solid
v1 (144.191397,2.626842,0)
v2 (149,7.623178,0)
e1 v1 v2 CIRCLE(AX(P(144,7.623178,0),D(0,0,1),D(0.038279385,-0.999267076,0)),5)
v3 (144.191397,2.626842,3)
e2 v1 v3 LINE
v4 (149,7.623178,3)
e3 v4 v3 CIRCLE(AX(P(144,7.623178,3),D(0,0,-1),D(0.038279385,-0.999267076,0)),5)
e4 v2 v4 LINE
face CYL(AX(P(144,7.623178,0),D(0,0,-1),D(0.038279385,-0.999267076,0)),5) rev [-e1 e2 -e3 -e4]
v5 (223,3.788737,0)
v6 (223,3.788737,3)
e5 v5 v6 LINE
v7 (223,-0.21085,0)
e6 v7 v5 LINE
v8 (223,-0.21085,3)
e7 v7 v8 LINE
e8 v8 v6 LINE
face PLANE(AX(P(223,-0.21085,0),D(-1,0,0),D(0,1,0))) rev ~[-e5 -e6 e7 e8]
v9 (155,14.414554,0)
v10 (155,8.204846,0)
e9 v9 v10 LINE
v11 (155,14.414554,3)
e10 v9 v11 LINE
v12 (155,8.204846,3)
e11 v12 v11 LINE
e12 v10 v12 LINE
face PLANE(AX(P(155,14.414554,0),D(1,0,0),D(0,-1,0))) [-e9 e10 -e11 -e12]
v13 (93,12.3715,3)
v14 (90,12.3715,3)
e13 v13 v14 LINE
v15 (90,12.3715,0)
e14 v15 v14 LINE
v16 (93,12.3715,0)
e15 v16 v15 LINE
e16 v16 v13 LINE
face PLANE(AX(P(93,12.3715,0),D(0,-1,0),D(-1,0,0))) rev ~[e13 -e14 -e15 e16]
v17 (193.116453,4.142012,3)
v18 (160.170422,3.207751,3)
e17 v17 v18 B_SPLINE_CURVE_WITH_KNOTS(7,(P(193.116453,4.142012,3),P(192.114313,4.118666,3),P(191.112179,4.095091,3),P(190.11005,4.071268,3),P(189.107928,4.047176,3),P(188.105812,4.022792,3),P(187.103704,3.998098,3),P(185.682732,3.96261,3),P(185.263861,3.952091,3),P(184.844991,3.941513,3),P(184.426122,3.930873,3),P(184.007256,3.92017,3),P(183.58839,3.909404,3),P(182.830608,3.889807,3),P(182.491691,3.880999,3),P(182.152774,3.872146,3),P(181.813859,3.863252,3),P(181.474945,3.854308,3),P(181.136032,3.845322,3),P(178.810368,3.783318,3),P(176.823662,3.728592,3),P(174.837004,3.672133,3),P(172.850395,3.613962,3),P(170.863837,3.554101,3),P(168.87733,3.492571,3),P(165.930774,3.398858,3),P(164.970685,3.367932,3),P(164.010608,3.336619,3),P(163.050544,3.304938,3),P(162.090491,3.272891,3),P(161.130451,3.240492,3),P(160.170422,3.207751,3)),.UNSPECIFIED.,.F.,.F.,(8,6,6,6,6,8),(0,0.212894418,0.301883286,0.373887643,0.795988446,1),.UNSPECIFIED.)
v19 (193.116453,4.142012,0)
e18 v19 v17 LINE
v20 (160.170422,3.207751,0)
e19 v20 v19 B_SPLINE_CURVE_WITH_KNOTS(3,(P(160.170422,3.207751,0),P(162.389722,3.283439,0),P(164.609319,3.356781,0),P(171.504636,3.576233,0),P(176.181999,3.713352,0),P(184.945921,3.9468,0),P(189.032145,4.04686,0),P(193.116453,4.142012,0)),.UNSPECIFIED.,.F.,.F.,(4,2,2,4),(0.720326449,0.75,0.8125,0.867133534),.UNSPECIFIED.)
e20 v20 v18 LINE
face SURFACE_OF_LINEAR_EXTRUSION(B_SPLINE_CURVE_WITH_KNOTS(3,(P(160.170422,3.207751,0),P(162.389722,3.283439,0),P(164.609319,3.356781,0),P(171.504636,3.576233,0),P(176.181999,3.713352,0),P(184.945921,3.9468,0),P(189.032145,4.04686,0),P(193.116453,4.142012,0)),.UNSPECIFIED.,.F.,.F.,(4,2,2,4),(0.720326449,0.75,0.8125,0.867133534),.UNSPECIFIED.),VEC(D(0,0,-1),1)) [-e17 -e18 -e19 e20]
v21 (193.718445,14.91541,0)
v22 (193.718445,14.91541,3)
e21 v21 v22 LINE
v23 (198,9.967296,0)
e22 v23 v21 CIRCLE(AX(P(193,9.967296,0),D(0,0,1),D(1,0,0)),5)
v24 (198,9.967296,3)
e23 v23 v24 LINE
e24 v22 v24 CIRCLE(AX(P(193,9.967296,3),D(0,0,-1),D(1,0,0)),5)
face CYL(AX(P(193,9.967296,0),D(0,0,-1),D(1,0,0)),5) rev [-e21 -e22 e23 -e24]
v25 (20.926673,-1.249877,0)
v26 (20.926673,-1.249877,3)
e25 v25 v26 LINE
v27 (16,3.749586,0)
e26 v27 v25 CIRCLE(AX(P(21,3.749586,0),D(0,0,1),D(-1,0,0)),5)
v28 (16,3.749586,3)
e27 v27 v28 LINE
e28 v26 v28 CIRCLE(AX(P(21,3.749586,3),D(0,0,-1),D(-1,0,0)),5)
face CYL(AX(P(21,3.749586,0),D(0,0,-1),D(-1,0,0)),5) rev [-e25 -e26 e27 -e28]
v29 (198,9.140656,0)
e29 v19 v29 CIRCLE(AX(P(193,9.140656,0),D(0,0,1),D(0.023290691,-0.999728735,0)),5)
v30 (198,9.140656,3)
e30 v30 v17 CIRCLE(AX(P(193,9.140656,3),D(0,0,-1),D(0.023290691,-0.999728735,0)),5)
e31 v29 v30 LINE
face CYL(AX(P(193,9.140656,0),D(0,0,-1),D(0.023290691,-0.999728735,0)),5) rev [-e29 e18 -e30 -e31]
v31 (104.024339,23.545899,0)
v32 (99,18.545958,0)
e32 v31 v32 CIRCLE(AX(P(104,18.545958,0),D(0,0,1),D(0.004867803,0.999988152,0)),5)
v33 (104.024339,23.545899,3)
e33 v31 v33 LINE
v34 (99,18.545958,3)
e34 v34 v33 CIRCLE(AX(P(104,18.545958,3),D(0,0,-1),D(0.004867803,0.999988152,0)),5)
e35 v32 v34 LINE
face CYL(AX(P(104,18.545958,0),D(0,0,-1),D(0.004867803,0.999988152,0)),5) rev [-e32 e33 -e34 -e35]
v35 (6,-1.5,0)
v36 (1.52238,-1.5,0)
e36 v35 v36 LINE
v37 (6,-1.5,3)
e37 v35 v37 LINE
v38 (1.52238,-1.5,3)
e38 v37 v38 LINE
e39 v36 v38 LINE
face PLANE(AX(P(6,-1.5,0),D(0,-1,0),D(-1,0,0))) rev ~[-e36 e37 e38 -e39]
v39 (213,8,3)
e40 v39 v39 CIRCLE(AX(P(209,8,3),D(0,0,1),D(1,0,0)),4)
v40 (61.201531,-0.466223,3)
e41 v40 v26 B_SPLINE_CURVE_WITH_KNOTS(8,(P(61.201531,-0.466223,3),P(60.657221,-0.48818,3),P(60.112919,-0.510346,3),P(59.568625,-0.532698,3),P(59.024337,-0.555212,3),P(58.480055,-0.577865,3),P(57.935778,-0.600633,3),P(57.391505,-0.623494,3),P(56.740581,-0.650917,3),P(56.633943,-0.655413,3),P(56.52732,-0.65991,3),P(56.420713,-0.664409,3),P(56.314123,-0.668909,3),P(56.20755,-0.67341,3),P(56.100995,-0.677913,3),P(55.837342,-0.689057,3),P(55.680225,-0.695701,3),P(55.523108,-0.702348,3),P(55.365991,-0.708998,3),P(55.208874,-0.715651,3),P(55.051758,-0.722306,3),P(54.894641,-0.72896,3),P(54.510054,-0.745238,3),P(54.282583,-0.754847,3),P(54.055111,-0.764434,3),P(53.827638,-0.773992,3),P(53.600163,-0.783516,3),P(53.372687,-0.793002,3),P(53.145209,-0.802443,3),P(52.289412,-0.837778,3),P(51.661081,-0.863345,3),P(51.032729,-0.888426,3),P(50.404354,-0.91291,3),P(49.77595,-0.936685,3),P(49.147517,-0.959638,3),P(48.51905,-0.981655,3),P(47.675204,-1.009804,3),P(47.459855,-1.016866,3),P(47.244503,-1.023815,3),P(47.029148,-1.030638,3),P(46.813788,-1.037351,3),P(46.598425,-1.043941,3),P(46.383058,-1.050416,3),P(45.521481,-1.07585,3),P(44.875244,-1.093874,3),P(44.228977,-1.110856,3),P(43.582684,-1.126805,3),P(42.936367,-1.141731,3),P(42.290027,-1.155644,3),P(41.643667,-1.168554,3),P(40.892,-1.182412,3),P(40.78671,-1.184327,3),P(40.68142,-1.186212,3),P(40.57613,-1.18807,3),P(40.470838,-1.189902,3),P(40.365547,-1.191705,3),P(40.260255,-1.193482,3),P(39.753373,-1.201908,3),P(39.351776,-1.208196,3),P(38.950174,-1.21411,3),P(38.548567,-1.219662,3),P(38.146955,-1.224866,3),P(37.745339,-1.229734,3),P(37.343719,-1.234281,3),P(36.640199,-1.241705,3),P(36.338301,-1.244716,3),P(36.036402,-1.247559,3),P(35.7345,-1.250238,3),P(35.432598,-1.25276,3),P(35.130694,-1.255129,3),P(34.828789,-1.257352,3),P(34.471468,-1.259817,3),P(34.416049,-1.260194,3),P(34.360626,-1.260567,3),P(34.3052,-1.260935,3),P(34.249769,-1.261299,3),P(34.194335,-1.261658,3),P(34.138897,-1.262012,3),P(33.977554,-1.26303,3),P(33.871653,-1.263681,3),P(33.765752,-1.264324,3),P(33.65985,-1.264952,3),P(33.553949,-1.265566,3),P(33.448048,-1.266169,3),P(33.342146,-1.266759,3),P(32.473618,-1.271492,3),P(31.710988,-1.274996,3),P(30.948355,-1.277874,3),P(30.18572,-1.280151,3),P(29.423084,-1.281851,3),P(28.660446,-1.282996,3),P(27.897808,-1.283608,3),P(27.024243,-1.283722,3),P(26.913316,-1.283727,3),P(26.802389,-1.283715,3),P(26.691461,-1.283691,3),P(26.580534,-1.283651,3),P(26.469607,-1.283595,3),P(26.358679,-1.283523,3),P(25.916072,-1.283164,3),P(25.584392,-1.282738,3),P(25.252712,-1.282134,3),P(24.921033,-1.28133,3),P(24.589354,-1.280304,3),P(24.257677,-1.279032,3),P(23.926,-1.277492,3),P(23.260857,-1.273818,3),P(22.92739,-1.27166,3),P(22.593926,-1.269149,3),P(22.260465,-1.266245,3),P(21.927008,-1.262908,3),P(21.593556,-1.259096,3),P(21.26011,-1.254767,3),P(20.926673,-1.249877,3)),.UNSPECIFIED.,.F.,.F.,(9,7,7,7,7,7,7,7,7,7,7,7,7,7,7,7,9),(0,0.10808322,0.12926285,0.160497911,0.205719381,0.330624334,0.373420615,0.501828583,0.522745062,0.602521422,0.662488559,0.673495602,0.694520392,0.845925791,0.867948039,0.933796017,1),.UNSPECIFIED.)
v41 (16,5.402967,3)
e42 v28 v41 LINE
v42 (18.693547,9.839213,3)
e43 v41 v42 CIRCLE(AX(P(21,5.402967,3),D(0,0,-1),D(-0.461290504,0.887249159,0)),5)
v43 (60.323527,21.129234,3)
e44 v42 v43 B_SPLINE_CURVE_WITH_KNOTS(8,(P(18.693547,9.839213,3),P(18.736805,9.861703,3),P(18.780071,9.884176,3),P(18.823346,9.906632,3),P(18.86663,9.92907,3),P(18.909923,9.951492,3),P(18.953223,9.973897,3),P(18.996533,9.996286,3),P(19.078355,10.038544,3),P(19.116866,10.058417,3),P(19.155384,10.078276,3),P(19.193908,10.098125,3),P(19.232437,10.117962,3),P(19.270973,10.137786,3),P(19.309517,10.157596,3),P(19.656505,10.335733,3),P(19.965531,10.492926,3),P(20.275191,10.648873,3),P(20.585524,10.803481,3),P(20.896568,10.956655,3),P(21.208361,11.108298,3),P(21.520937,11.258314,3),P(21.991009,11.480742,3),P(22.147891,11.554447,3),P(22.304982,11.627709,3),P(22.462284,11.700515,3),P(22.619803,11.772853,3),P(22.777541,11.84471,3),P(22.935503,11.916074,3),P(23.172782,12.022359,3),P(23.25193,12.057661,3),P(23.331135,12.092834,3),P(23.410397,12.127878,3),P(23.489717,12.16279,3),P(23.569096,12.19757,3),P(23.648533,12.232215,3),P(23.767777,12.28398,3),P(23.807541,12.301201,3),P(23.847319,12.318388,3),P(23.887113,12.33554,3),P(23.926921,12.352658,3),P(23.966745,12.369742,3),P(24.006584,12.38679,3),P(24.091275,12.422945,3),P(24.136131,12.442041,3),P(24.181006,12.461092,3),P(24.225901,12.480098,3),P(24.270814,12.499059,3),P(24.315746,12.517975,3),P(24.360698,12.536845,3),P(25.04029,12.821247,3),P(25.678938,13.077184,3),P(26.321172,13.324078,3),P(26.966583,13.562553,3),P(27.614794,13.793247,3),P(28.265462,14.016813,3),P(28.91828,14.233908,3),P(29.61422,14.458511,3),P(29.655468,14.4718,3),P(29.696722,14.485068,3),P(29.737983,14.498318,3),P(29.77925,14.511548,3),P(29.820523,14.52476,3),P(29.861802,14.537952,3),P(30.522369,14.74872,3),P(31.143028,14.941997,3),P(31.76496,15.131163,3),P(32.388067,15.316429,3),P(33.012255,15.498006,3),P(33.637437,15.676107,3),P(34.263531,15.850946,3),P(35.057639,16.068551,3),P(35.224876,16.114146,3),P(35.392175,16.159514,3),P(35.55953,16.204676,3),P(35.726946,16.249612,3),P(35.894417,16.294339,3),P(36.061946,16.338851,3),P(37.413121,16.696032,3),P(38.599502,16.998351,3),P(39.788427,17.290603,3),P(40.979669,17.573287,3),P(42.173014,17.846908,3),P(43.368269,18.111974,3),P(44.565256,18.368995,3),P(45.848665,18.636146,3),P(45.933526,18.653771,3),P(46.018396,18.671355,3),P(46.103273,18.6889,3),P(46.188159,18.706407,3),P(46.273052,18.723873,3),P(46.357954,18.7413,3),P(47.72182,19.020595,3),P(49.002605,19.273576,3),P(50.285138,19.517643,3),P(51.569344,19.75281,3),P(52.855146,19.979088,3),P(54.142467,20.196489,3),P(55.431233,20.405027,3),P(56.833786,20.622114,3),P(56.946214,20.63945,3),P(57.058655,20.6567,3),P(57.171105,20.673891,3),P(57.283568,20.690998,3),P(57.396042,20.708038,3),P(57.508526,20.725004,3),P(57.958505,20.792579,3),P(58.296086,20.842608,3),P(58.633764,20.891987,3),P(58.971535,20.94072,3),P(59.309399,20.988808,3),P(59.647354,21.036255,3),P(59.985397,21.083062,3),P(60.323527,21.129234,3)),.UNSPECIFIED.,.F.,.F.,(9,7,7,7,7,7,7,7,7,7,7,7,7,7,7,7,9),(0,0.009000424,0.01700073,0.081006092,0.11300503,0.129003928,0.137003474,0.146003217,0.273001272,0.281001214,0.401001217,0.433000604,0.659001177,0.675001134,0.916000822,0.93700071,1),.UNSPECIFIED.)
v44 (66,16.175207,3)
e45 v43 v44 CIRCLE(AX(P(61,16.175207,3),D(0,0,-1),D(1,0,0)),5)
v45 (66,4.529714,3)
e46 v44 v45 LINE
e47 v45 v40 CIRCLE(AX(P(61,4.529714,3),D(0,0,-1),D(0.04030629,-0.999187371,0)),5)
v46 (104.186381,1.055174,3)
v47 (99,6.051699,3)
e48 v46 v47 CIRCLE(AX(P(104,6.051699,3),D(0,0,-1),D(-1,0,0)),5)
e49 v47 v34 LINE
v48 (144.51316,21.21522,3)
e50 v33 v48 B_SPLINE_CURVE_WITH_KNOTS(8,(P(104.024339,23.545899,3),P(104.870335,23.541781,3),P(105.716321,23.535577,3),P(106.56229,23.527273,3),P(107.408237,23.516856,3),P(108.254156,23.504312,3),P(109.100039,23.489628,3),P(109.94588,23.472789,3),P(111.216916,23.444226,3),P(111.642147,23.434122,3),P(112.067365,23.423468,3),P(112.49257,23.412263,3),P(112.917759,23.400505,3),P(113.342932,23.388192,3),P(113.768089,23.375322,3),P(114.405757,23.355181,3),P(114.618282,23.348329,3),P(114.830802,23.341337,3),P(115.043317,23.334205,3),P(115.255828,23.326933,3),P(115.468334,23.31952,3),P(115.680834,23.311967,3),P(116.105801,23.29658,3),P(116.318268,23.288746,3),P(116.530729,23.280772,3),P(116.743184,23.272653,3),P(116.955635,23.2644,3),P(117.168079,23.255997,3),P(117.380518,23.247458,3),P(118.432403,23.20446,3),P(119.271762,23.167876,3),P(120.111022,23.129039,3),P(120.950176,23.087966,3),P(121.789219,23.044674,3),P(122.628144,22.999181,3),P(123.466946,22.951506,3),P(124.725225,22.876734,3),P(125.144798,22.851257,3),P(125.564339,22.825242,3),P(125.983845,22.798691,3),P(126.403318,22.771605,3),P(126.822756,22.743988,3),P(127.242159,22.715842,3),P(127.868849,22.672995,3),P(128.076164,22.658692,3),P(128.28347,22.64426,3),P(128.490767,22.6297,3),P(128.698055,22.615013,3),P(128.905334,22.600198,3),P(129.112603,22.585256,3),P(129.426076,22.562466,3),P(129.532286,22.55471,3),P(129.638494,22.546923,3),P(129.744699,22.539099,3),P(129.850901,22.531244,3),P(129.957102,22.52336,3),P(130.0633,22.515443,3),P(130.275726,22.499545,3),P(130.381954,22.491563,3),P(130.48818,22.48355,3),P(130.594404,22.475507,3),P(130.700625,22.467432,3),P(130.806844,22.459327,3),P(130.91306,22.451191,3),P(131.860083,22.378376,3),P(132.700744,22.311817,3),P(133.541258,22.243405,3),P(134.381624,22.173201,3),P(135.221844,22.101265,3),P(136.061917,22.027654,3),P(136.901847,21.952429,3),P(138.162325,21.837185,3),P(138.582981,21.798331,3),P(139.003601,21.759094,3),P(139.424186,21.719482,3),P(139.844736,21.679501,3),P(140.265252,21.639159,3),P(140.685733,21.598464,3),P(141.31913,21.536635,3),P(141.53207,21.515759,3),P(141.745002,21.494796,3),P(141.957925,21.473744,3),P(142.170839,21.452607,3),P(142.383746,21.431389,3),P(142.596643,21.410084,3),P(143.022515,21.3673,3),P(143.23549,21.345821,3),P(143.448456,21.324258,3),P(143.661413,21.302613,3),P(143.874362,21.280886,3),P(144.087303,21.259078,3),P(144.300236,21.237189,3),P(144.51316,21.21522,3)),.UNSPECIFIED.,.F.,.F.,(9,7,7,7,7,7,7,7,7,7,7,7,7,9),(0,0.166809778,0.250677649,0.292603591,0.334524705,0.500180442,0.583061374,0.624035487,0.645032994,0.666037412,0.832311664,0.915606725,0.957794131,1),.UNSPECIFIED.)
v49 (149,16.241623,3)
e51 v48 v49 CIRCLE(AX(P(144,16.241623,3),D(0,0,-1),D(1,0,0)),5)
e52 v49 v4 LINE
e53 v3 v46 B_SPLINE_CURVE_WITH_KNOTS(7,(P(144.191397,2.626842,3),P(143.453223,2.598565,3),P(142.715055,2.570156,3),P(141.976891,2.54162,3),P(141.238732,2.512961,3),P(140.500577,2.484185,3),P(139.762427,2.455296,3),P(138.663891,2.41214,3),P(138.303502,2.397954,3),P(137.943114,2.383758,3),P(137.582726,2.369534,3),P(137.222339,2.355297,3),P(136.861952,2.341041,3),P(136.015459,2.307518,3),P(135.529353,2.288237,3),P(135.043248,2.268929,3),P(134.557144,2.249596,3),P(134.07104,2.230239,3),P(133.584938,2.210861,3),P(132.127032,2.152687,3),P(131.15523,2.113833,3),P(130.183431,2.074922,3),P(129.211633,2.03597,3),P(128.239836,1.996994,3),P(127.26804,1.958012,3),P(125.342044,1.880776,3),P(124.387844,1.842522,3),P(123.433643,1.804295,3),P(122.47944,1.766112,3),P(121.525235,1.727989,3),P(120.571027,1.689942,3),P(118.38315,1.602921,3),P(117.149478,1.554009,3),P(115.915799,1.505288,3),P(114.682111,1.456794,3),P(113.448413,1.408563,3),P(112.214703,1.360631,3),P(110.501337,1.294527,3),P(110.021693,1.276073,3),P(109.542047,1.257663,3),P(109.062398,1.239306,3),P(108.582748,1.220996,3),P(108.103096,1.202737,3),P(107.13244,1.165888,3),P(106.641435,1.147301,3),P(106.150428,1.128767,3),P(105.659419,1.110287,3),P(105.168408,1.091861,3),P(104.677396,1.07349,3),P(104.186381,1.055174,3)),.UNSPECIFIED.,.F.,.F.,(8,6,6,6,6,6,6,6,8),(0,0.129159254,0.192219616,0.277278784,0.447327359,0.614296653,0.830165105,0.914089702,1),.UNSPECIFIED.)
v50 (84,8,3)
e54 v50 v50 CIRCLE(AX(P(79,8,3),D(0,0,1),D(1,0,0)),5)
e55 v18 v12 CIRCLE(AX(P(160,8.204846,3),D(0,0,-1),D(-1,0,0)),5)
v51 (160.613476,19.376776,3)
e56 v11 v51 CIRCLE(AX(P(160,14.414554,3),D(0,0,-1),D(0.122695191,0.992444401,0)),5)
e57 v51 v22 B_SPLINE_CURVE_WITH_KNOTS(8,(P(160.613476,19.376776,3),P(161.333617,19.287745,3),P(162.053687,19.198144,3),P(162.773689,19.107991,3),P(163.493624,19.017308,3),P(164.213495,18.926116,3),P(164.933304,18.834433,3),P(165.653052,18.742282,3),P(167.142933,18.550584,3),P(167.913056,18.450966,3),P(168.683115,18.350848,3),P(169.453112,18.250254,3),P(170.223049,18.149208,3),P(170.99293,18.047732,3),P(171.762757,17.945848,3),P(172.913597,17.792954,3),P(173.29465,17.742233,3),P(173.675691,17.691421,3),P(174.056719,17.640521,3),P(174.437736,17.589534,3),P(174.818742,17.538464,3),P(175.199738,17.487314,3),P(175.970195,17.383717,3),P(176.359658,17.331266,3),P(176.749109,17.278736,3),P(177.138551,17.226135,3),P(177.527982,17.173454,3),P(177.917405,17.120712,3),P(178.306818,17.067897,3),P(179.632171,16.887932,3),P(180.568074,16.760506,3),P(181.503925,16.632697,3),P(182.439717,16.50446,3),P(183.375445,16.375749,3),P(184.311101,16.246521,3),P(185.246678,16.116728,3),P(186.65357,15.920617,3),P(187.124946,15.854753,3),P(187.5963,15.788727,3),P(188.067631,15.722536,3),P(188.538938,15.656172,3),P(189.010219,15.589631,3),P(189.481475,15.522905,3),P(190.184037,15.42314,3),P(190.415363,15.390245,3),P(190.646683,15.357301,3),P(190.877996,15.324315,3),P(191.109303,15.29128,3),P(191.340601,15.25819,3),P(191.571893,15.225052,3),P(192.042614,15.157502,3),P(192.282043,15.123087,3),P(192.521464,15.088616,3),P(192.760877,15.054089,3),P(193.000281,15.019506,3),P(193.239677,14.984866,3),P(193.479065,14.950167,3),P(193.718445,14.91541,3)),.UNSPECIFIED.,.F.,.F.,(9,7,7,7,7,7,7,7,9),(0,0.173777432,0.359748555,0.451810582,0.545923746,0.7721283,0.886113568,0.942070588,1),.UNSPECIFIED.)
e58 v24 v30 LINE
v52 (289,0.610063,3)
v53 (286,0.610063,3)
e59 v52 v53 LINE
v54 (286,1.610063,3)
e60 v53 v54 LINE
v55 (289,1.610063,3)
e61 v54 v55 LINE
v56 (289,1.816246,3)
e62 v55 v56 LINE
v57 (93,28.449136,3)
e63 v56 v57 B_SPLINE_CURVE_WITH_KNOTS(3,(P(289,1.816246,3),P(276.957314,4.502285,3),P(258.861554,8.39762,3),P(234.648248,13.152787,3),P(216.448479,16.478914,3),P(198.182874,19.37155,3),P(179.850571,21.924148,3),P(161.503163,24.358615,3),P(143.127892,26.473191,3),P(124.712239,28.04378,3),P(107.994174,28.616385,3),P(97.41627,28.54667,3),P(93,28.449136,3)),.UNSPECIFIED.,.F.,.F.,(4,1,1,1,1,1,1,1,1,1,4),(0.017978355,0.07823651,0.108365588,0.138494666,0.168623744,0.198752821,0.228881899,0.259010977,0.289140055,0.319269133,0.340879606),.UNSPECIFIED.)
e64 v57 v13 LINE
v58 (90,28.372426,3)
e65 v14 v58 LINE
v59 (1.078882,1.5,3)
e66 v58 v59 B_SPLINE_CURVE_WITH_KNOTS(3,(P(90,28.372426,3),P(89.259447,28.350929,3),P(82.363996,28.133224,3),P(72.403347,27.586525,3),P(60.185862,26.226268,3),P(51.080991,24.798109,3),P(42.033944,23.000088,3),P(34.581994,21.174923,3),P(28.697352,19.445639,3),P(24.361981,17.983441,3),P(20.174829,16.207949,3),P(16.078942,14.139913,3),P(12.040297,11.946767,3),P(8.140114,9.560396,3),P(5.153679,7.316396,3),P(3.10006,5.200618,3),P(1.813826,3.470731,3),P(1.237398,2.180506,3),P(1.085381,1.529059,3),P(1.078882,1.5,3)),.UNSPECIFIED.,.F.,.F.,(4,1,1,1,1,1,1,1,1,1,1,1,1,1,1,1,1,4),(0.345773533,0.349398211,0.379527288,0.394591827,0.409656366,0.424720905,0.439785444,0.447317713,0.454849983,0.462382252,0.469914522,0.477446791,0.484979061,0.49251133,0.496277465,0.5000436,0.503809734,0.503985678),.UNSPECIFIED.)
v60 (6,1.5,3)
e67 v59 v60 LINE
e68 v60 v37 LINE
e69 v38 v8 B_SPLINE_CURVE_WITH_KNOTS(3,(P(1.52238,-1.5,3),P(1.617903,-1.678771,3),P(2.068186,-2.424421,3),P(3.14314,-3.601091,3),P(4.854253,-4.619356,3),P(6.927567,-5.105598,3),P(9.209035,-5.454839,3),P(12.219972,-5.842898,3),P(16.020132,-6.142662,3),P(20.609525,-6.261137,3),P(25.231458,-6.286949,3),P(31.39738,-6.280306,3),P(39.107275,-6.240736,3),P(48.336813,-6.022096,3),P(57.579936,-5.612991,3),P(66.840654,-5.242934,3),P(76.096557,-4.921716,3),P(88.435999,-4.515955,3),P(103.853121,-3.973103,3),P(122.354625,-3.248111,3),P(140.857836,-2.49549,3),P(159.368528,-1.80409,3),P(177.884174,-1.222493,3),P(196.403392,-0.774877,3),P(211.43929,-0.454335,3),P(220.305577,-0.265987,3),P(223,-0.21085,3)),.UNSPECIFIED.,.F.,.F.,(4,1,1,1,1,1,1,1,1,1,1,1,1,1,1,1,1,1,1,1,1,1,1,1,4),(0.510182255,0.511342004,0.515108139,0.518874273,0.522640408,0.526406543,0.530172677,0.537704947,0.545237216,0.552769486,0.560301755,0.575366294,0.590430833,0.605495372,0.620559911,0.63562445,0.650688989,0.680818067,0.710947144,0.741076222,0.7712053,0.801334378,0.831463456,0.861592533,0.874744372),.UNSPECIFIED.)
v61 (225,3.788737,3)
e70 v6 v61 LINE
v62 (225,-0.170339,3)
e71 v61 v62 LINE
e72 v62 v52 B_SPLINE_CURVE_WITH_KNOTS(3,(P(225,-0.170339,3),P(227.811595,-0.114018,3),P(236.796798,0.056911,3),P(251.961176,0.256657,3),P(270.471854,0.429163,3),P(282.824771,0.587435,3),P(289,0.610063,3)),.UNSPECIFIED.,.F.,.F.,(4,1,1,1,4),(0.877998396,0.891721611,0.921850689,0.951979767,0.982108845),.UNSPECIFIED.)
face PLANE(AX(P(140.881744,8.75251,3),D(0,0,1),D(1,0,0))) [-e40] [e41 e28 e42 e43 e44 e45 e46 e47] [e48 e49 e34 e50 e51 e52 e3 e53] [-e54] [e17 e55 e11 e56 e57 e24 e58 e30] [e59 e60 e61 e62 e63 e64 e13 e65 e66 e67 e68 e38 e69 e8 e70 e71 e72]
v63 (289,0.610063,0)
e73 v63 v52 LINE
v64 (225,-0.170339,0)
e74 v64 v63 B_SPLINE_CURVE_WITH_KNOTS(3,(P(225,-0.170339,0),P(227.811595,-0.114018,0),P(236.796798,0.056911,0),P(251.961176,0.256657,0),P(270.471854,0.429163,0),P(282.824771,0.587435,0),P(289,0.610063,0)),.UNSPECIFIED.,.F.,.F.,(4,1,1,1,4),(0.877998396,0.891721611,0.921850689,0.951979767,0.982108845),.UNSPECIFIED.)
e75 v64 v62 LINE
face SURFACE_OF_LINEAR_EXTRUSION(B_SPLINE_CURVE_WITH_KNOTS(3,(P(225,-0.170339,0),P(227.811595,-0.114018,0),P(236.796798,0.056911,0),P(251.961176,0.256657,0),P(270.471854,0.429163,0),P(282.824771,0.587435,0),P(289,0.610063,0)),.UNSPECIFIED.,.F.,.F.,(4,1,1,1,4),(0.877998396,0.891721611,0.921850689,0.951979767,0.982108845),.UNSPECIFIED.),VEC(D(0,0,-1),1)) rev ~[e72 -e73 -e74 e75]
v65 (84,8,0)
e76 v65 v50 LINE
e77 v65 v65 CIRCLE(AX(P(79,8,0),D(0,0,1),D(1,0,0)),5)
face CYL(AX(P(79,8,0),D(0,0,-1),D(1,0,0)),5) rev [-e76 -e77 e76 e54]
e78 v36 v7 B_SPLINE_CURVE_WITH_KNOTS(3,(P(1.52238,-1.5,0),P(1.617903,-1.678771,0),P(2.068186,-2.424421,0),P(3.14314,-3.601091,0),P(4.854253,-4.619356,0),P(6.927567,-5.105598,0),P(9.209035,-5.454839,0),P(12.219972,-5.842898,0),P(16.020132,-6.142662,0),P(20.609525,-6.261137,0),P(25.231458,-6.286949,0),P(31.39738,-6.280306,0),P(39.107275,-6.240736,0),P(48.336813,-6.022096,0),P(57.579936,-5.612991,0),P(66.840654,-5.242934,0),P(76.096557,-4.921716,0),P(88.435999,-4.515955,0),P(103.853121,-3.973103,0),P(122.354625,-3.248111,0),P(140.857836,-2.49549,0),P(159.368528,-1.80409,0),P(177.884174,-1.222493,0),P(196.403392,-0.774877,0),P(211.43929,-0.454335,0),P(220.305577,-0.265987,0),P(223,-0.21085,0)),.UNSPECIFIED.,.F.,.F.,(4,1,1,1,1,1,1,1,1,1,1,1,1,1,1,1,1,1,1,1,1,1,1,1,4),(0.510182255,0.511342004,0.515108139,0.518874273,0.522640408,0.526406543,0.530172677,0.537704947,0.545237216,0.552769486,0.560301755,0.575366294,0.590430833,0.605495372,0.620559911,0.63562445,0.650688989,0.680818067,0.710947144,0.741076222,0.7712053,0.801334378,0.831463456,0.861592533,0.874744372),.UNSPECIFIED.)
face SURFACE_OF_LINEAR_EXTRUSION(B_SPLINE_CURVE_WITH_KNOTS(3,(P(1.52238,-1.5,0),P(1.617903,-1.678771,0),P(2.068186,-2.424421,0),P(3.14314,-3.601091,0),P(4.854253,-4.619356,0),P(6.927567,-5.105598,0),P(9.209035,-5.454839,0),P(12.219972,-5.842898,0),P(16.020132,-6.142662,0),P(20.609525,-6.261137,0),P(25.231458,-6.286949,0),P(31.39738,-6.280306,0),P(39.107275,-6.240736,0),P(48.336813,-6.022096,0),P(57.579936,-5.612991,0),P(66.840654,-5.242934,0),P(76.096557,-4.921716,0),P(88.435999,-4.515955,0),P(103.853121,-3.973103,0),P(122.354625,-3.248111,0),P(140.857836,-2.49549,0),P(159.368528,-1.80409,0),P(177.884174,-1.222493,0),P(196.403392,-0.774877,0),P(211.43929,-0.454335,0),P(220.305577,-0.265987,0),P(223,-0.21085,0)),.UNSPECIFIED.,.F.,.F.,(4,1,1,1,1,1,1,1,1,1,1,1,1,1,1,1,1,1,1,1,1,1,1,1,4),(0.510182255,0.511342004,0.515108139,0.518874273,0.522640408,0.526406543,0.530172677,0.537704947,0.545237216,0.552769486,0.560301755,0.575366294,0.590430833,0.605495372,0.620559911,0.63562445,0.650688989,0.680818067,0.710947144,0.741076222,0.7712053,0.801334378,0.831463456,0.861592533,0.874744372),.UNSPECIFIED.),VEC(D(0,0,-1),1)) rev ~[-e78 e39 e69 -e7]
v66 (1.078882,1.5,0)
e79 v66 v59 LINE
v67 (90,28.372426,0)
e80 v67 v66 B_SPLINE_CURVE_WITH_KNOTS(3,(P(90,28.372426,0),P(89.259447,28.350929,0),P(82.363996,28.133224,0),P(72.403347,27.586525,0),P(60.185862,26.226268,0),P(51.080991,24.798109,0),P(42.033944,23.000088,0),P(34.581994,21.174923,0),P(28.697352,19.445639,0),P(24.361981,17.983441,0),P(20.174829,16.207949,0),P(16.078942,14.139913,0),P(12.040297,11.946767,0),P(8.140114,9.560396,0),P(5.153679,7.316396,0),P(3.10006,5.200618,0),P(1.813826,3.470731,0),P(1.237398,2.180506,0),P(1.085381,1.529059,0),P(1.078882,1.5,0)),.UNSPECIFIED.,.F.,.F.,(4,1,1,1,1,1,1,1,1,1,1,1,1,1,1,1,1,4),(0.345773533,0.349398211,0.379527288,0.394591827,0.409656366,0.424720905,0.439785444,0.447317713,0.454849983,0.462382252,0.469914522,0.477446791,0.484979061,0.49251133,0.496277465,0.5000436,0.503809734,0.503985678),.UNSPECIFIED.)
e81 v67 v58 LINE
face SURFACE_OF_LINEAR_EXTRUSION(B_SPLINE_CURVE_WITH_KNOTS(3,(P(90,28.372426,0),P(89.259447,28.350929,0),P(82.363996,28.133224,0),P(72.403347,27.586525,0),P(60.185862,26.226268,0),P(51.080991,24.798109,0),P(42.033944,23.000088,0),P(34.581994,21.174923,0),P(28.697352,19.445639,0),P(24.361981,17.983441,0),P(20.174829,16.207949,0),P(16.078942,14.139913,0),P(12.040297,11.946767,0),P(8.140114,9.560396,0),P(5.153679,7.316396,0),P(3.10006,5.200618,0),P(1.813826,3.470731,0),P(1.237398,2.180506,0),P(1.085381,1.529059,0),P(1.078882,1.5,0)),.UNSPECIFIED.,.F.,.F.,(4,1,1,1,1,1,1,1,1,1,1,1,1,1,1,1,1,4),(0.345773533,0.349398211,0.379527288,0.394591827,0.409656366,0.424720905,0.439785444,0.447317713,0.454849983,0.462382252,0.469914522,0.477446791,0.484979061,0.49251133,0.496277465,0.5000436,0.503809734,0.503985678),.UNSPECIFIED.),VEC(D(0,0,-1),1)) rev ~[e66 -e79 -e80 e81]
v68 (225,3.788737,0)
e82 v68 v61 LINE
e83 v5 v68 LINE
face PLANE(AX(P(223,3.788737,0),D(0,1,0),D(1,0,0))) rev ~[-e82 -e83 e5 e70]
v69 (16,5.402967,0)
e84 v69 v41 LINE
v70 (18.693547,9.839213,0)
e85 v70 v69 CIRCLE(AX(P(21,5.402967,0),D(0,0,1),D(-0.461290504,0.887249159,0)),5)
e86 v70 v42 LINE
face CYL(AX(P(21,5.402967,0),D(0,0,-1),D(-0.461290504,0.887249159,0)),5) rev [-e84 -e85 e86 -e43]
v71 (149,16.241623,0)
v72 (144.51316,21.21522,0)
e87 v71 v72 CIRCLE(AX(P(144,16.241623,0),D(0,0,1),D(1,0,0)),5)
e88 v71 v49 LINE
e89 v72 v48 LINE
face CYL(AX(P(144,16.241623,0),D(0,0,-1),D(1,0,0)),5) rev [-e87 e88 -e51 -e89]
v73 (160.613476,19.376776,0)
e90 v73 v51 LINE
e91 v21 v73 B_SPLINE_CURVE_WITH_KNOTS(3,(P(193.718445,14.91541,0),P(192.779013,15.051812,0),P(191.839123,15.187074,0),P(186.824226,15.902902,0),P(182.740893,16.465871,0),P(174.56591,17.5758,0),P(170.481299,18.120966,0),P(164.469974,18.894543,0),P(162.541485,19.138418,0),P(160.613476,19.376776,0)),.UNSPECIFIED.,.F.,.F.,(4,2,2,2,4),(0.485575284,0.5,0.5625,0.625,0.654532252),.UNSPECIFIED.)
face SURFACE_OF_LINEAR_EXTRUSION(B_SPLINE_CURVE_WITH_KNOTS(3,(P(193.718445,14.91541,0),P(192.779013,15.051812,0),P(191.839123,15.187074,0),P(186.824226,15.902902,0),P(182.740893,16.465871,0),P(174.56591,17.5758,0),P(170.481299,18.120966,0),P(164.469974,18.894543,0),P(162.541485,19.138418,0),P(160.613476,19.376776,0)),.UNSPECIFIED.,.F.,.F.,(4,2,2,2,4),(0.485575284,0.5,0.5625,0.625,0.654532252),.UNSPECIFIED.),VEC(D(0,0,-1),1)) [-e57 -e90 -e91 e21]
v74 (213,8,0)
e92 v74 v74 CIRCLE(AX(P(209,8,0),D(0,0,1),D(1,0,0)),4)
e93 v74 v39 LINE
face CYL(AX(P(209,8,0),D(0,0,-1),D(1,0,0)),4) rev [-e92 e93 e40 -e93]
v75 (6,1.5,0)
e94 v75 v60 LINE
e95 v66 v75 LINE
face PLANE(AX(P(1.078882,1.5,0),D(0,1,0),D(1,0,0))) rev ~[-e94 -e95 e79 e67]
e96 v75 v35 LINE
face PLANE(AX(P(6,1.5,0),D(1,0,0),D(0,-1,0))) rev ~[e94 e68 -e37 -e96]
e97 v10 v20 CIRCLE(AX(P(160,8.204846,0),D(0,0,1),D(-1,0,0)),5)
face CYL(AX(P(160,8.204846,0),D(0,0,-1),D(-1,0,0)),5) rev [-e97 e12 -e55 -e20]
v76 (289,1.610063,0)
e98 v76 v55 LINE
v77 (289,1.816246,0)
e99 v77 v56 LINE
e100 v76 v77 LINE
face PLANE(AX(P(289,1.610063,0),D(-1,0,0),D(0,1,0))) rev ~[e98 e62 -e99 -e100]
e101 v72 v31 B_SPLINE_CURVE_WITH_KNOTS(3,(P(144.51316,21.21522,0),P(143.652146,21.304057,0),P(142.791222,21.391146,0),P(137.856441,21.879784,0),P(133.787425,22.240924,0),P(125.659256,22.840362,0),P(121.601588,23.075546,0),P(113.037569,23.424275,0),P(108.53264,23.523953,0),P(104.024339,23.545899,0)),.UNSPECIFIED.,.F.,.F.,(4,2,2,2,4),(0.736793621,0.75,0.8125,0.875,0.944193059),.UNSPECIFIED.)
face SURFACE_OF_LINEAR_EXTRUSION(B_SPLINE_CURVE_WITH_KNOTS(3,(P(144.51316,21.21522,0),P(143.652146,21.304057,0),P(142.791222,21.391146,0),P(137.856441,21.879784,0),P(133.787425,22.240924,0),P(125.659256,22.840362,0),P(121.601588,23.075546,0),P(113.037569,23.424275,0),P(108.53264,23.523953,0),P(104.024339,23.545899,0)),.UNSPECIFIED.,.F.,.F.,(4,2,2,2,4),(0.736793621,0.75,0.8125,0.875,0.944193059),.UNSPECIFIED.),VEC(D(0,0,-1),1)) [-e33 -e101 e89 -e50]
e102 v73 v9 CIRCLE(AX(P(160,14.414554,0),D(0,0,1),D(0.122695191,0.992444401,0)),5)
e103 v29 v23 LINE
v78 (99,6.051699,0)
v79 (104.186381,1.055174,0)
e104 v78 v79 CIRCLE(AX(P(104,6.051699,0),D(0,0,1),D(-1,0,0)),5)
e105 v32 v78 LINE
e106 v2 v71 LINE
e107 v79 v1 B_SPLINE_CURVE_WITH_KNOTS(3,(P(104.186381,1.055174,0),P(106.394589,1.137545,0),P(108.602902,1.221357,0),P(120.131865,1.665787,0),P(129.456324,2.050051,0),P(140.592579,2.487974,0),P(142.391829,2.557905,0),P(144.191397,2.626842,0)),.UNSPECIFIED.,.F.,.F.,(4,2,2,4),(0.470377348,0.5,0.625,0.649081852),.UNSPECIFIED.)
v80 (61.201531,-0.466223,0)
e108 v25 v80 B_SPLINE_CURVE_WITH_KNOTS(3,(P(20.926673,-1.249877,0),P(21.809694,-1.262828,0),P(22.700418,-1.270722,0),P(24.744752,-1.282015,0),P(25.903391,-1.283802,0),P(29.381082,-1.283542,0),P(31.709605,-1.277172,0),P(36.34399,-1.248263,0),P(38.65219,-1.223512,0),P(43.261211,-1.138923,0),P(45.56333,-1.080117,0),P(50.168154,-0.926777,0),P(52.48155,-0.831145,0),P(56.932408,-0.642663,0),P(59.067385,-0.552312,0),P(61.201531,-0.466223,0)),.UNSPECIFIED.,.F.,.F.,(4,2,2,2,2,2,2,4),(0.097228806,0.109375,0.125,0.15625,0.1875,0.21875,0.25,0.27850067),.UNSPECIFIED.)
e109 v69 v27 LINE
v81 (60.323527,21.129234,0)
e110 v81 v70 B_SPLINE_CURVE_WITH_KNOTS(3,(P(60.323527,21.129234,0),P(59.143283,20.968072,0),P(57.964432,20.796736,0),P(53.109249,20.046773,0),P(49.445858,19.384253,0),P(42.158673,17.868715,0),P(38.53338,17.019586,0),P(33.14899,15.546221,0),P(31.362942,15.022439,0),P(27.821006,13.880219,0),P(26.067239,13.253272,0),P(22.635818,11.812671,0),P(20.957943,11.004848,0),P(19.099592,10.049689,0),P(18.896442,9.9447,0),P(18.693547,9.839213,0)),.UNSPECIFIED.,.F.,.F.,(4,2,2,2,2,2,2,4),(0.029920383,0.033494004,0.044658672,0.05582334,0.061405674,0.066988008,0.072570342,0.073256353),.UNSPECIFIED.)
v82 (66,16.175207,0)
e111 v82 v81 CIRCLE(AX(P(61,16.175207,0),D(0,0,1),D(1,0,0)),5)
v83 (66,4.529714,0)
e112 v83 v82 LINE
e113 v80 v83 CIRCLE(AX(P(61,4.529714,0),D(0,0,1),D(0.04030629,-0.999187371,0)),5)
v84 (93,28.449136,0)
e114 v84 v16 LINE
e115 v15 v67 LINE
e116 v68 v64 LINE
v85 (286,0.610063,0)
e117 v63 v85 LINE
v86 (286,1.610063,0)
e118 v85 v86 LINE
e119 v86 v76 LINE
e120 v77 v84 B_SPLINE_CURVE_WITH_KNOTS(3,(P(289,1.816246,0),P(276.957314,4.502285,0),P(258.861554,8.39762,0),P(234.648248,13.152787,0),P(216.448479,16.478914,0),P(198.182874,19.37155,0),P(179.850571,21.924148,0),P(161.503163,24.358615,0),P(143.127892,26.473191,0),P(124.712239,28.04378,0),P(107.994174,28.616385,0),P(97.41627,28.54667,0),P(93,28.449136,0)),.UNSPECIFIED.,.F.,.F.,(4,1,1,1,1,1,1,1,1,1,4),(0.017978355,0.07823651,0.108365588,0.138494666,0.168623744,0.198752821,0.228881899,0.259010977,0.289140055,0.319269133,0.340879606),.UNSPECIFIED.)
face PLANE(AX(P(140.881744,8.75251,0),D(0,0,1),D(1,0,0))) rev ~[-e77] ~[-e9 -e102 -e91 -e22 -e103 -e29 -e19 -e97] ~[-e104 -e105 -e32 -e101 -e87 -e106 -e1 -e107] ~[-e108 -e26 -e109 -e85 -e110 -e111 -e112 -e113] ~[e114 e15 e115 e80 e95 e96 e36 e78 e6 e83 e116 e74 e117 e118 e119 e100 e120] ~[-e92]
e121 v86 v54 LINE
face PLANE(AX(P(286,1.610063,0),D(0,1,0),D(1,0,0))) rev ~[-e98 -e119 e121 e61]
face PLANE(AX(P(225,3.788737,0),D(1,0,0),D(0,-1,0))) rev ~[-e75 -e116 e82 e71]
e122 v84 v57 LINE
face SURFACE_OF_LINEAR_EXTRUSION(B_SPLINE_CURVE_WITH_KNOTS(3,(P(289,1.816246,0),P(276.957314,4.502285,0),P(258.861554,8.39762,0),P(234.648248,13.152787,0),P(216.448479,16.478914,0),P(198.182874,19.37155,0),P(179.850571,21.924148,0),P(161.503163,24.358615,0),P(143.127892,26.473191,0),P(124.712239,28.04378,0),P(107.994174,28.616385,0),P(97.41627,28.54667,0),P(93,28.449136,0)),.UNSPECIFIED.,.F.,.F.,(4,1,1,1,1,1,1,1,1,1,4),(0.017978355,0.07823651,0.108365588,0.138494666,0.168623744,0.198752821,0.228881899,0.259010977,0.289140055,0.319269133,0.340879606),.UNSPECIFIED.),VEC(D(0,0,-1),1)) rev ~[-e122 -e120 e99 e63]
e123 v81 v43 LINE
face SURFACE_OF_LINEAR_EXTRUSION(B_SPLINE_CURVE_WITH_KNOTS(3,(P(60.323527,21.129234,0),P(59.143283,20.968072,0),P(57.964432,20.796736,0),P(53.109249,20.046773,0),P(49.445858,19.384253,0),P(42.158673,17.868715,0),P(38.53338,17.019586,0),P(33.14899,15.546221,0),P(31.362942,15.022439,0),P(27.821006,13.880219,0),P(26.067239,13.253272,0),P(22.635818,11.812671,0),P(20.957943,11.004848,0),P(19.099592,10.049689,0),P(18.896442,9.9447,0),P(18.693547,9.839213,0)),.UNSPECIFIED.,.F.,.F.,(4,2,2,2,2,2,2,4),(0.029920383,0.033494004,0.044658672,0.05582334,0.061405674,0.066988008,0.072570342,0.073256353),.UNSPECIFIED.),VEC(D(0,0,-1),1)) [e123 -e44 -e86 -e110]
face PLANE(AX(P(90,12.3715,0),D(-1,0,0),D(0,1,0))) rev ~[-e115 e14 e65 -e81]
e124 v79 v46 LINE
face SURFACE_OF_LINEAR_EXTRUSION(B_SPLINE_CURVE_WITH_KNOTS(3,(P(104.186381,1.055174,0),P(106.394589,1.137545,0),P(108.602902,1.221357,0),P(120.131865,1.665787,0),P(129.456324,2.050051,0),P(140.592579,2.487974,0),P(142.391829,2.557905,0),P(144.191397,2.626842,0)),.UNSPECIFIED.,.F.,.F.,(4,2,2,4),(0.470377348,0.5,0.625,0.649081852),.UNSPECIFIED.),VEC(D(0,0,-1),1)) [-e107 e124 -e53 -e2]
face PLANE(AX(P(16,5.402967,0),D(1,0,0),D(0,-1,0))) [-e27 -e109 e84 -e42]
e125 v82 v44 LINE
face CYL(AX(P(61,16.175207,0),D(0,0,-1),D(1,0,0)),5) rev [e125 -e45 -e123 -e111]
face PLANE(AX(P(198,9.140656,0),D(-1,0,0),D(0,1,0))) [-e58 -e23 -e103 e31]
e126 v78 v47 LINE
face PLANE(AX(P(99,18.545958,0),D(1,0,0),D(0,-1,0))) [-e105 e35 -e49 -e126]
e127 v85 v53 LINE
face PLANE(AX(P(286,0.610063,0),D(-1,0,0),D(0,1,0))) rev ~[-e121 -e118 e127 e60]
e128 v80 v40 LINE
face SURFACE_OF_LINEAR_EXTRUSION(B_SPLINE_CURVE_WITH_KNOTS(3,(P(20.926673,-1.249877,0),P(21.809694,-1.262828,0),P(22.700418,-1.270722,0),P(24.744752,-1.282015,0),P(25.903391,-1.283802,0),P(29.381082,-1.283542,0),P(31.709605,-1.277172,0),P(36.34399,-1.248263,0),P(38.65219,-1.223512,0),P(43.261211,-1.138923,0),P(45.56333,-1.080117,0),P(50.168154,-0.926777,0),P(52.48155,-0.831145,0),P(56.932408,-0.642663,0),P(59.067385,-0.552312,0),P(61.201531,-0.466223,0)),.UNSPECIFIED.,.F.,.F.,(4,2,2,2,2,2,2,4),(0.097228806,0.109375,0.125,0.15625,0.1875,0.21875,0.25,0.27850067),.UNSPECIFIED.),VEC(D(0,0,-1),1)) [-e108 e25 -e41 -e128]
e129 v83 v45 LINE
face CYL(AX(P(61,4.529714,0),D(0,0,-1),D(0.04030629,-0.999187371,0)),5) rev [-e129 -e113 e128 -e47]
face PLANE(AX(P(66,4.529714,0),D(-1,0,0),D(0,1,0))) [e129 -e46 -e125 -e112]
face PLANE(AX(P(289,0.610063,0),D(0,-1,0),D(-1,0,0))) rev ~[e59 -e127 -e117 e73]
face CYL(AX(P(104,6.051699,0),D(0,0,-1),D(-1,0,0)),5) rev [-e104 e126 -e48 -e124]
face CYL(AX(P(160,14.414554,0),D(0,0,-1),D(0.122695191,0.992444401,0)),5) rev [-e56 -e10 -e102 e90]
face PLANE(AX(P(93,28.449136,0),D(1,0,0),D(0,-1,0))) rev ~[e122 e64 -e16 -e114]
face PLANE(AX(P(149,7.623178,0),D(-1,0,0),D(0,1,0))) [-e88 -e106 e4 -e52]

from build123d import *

# Parameters (mm, degrees)
SKETCH_1_R          = 5
SKETCH_1_R_2        = 4
EXTRUDE_1_DEPTH     = 3
CUT_EXTRUDE_2_DEPTH = 291.422386836


with BuildPart() as part:
    # 草图1 → 凸台-拉伸1 (new body)
    with BuildSketch(Plane.XY):
        with BuildLine():
            Line((90, 12.3715), (90, 28.372426217))
            add(Edge.make_bspline(
                [(90, 28.372426217), (89.259446982, 28.350928743), (82.363996343, 28.13322439), (72.403347361, 27.586524792), (60.185862052, 26.226268085), (51.080991088, 24.79810862), (42.033943524, 23.000087944), (34.581994337, 21.174922903), (28.697351661, 19.44563851), (24.361981086, 17.983441115), (20.174828998, 16.207949367), (16.078941989, 14.139912989), (12.040296713, 11.946766626), (8.14011433, 9.56039573), (5.153679337, 7.316395724), (3.100060439, 5.200618052), (1.813825976, 3.470730924), (1.237398467, 2.180506339), (1.085380705, 1.529058937), (1.078882286, 1.5)],
                knots=[0.345773533, 0.345773533, 0.345773533, 0.345773533, 0.349398211, 0.379527288, 0.394591827, 0.409656366, 0.424720905, 0.439785444, 0.447317713, 0.454849983, 0.462382252, 0.469914522, 0.477446791, 0.484979061, 0.49251133, 0.496277465, 0.5000436, 0.503809734, 0.503985678, 0.503985678, 0.503985678, 0.503985678], degree=3))
            Line((1.078882286, 1.5), (6, 1.5))
            Line((6, 1.5), (6, -1.5))
            Line((6, -1.5), (1.522379628, -1.5))
            add(Edge.make_bspline(
                [(1.522379628, -1.5), (1.617903461, -1.678770523), (2.068186491, -2.42442122), (3.143139608, -3.601090845), (4.854253, -4.619355756), (6.927567017, -5.105597911), (9.209034621, -5.454839075), (12.219971865, -5.84289763), (16.020132359, -6.14266222), (20.609524976, -6.2611368), (25.231457517, -6.286948592), (31.397380169, -6.280305851), (39.107274969, -6.240736398), (48.336813051, -6.022096429), (57.579935967, -5.612990736), (66.840654471, -5.242934226), (76.096556555, -4.921715721), (88.435998513, -4.515955408), (103.853120896, -3.973102953), (122.354625015, -3.248110744), (140.857835973, -2.495489966), (159.368527813, -1.804089638), (177.884173919, -1.222493213), (196.4033921, -0.774877257), (211.439290174, -0.454334834), (220.305576898, -0.265987383), (223, -0.210849605)],
                knots=[0.510182255, 0.510182255, 0.510182255, 0.510182255, 0.511342004, 0.515108139, 0.518874273, 0.522640408, 0.526406543, 0.530172677, 0.537704947, 0.545237216, 0.552769486, 0.560301755, 0.575366294, 0.590430833, 0.605495372, 0.620559911, 0.63562445, 0.650688989, 0.680818067, 0.710947144, 0.741076222, 0.7712053, 0.801334378, 0.831463456, 0.861592533, 0.874744372, 0.874744372, 0.874744372, 0.874744372], degree=3))
            Line((223, -0.210849605), (223, 3.788737263))
            Line((223, 3.788737263), (225, 3.788737263))
            Line((225, 3.788737263), (225, -0.170338801))
            add(Edge.make_bspline(
                [(225, -0.170338801), (227.811595191, -0.114017747), (236.796798206, 0.056910764), (251.961175933, 0.256656825), (270.471854229, 0.429163033), (282.824771355, 0.587434741), (289, 0.610062865)],
                knots=[0.877998396, 0.877998396, 0.877998396, 0.877998396, 0.891721611, 0.921850689, 0.951979767, 0.982108845, 0.982108845, 0.982108845, 0.982108845], degree=3))
            Line((289, 0.610062865), (286, 0.610062865))
            Line((286, 0.610062865), (286, 1.610062865))
            Line((286, 1.610062865), (289, 1.610062865))
            Line((289, 1.610062865), (289, 1.816246039))
            add(Edge.make_bspline(
                [(289, 1.816246039), (276.957314444, 4.502285023), (258.861554155, 8.397620333), (234.648247971, 13.152786595), (216.448478593, 16.478914183), (198.182873559, 19.371550405), (179.850571346, 21.924148488), (161.503162682, 24.358614825), (143.127892269, 26.473190985), (124.712239059, 28.043780086), (107.994173705, 28.616385423), (97.416270032, 28.546670082), (93, 28.44913561)],
                knots=[0.017978355, 0.017978355, 0.017978355, 0.017978355, 0.07823651, 0.108365588, 0.138494666, 0.168623744, 0.198752821, 0.228881899, 0.259010977, 0.289140055, 0.319269133, 0.340879606, 0.340879606, 0.340879606, 0.340879606], degree=3))
            Line((93, 28.44913561), (93, 12.3715))
            Line((93, 12.3715), (90, 12.3715))
        make_face()
        with Locations((79, 8)):
            Circle(SKETCH_1_R, mode=Mode.SUBTRACT)
        with Locations((209, 8)):
            Circle(SKETCH_1_R_2, mode=Mode.SUBTRACT)
    extrude(amount=EXTRUDE_1_DEPTH)

    # 草图3 → 切除-拉伸2 (cut, through all)
    with BuildSketch(Plane.XY):
        with BuildLine():
            Line((16, 5.402967421), (16, 3.749585631))
            ThreePointArc((16, 3.749585631), (17.438635496, 0.240072435), (20.926673148, -1.249876658))
            add(Edge.make_bspline(
                [(20.926673148, -1.249876658), (21.809693827, -1.262827876), (22.70041751, -1.270722289), (24.744752026, -1.282014543), (25.903390676, -1.283802206), (29.38108188, -1.283541675), (31.709604831, -1.277171959), (36.343989553, -1.248263334), (38.652190318, -1.223511787), (43.261210505, -1.138923387), (45.563329713, -1.080117385), (50.168153725, -0.92677743), (52.481550313, -0.831144642), (56.932408226, -0.642663317), (59.067384965, -0.552312083), (61.201531448, -0.466222597)],
                knots=[0.097228806, 0.097228806, 0.097228806, 0.097228806, 0.109375, 0.109375, 0.125, 0.125, 0.15625, 0.15625, 0.1875, 0.1875, 0.21875, 0.21875, 0.25, 0.25, 0.27850067, 0.27850067, 0.27850067, 0.27850067], degree=3))
            ThreePointArc((61.201531448, -0.466222597), (64.606082169, 1.066165303), (65.999999998, 4.529714259))
            Line((65.999999998, 4.529714259), (65.999999998, 16.175207171))
            ThreePointArc((65.999999998, 16.175207171), (64.287676461, 19.942325894), (60.323526607, 21.129234195))
            add(Edge.make_bspline(
                [(60.323526607, 21.129234195), (59.14328274, 20.968071656), (57.964431767, 20.796736398), (53.109249428, 20.046773379), (49.445857595, 19.384253181), (42.158673028, 17.868714577), (38.533379611, 17.019586343), (33.148990447, 15.546220745), (31.362942012, 15.022439399), (27.821005995, 13.880218625), (26.067238608, 13.253271835), (22.635818059, 11.812670552), (20.957942753, 11.004847704), (19.099592195, 10.049689097), (18.896441621, 9.944700093), (18.693547477, 9.839213217)],
                knots=[0.029920383, 0.029920383, 0.029920383, 0.029920383, 0.033494004, 0.033494004, 0.044658672, 0.044658672, 0.05582334, 0.05582334, 0.061405674, 0.061405674, 0.066988008, 0.066988008, 0.072570342, 0.072570342, 0.073256353, 0.073256353, 0.073256353, 0.073256353], degree=3))
            ThreePointArc((18.693547477, 9.839213217), (16.726110517, 7.997937304), (16, 5.402967421))
        make_face()
        with BuildLine():
            Line((99, 18.545958183), (99, 6.051698891))
            ThreePointArc((99, 6.051698891), (100.530987404, 2.450872374), (104.186380643, 1.055173873))
            add(Edge.make_bspline(
                [(104.186380643, 1.055173873), (106.39458867, 1.137544567), (108.602901821, 1.221357381), (120.131865001, 1.665786726), (129.456324286, 2.050051394), (140.592579239, 2.48797418), (142.3918285, 2.557905459), (144.191396926, 2.626842357)],
                knots=[0.470377348, 0.470377348, 0.470377348, 0.470377348, 0.5, 0.5, 0.625, 0.625, 0.649081852, 0.649081852, 0.649081852, 0.649081852], degree=3))
            ThreePointArc((144.191396926, 2.626842357), (147.602567462, 4.155973144), (149, 7.623177736))
            Line((149, 7.623177736), (149, 16.241622969))
            ThreePointArc((149, 16.241622969), (147.712532938, 19.59081678), (144.513160327, 21.215219904))
            add(Edge.make_bspline(
                [(144.513160327, 21.215219904), (143.652145828, 21.304056714), (142.791222193, 21.391146352), (137.856440927, 21.879784463), (133.787425472, 22.240923522), (125.659256001, 22.840362063), (121.601588339, 23.075546461), (113.037568805, 23.424275072), (108.53263967, 23.523953165), (104.024339014, 23.545898944)],
                knots=[0.736793621, 0.736793621, 0.736793621, 0.736793621, 0.75, 0.75, 0.8125, 0.8125, 0.875, 0.875, 0.944193059, 0.944193059, 0.944193059, 0.944193059], degree=3))
            ThreePointArc((104.024339014, 23.545898944), (100.473081733, 22.090086783), (99, 18.545958183))
        make_face()
        with BuildLine():
            Line((155, 14.41455393), (155, 8.204846233))
            ThreePointArc((155, 8.204846233), (156.525241738, 4.609563904), (160.17042201, 3.207751443))
            add(Edge.make_bspline(
                [(160.17042201, 3.207751443), (162.389721662, 3.283438922), (164.609319497, 3.356780918), (171.504636491, 3.576232826), (176.18199895, 3.713351663), (184.945921303, 3.946800138), (189.03214497, 4.046860263), (193.116453453, 4.14201244)],
                knots=[0.720326449, 0.720326449, 0.720326449, 0.720326449, 0.75, 0.75, 0.8125, 0.8125, 0.867133534, 0.867133534, 0.867133534, 0.867133534], degree=3))
            ThreePointArc((193.116453453, 4.14201244), (196.576469437, 5.64653729), (198, 9.140656115))
            Line((198, 9.140656115), (198, 9.967295711))
            ThreePointArc((198, 9.967295711), (196.781019979, 13.238975389), (193.718444833, 14.915410202))
            add(Edge.make_bspline(
                [(193.718444833, 14.915410202), (192.779013077, 15.051811632), (191.839123333, 15.187073825), (186.824226186, 15.902901834), (182.740892869, 16.465870736), (174.565909682, 17.575800313), (170.481299177, 18.120965891), (164.469973656, 18.894543341), (162.541485429, 19.138417507), (160.613475955, 19.376775938)],
                knots=[0.485575284, 0.485575284, 0.485575284, 0.485575284, 0.5, 0.5, 0.5625, 0.5625, 0.625, 0.625, 0.654532252, 0.654532252, 0.654532252, 0.654532252], degree=3))
            ThreePointArc((160.613475955, 19.376775938), (156.688458046, 18.160710613), (155, 14.41455393))
        make_face()
    extrude(amount=CUT_EXTRUDE_2_DEPTH, mode=Mode.SUBTRACT)


solid = part.part
